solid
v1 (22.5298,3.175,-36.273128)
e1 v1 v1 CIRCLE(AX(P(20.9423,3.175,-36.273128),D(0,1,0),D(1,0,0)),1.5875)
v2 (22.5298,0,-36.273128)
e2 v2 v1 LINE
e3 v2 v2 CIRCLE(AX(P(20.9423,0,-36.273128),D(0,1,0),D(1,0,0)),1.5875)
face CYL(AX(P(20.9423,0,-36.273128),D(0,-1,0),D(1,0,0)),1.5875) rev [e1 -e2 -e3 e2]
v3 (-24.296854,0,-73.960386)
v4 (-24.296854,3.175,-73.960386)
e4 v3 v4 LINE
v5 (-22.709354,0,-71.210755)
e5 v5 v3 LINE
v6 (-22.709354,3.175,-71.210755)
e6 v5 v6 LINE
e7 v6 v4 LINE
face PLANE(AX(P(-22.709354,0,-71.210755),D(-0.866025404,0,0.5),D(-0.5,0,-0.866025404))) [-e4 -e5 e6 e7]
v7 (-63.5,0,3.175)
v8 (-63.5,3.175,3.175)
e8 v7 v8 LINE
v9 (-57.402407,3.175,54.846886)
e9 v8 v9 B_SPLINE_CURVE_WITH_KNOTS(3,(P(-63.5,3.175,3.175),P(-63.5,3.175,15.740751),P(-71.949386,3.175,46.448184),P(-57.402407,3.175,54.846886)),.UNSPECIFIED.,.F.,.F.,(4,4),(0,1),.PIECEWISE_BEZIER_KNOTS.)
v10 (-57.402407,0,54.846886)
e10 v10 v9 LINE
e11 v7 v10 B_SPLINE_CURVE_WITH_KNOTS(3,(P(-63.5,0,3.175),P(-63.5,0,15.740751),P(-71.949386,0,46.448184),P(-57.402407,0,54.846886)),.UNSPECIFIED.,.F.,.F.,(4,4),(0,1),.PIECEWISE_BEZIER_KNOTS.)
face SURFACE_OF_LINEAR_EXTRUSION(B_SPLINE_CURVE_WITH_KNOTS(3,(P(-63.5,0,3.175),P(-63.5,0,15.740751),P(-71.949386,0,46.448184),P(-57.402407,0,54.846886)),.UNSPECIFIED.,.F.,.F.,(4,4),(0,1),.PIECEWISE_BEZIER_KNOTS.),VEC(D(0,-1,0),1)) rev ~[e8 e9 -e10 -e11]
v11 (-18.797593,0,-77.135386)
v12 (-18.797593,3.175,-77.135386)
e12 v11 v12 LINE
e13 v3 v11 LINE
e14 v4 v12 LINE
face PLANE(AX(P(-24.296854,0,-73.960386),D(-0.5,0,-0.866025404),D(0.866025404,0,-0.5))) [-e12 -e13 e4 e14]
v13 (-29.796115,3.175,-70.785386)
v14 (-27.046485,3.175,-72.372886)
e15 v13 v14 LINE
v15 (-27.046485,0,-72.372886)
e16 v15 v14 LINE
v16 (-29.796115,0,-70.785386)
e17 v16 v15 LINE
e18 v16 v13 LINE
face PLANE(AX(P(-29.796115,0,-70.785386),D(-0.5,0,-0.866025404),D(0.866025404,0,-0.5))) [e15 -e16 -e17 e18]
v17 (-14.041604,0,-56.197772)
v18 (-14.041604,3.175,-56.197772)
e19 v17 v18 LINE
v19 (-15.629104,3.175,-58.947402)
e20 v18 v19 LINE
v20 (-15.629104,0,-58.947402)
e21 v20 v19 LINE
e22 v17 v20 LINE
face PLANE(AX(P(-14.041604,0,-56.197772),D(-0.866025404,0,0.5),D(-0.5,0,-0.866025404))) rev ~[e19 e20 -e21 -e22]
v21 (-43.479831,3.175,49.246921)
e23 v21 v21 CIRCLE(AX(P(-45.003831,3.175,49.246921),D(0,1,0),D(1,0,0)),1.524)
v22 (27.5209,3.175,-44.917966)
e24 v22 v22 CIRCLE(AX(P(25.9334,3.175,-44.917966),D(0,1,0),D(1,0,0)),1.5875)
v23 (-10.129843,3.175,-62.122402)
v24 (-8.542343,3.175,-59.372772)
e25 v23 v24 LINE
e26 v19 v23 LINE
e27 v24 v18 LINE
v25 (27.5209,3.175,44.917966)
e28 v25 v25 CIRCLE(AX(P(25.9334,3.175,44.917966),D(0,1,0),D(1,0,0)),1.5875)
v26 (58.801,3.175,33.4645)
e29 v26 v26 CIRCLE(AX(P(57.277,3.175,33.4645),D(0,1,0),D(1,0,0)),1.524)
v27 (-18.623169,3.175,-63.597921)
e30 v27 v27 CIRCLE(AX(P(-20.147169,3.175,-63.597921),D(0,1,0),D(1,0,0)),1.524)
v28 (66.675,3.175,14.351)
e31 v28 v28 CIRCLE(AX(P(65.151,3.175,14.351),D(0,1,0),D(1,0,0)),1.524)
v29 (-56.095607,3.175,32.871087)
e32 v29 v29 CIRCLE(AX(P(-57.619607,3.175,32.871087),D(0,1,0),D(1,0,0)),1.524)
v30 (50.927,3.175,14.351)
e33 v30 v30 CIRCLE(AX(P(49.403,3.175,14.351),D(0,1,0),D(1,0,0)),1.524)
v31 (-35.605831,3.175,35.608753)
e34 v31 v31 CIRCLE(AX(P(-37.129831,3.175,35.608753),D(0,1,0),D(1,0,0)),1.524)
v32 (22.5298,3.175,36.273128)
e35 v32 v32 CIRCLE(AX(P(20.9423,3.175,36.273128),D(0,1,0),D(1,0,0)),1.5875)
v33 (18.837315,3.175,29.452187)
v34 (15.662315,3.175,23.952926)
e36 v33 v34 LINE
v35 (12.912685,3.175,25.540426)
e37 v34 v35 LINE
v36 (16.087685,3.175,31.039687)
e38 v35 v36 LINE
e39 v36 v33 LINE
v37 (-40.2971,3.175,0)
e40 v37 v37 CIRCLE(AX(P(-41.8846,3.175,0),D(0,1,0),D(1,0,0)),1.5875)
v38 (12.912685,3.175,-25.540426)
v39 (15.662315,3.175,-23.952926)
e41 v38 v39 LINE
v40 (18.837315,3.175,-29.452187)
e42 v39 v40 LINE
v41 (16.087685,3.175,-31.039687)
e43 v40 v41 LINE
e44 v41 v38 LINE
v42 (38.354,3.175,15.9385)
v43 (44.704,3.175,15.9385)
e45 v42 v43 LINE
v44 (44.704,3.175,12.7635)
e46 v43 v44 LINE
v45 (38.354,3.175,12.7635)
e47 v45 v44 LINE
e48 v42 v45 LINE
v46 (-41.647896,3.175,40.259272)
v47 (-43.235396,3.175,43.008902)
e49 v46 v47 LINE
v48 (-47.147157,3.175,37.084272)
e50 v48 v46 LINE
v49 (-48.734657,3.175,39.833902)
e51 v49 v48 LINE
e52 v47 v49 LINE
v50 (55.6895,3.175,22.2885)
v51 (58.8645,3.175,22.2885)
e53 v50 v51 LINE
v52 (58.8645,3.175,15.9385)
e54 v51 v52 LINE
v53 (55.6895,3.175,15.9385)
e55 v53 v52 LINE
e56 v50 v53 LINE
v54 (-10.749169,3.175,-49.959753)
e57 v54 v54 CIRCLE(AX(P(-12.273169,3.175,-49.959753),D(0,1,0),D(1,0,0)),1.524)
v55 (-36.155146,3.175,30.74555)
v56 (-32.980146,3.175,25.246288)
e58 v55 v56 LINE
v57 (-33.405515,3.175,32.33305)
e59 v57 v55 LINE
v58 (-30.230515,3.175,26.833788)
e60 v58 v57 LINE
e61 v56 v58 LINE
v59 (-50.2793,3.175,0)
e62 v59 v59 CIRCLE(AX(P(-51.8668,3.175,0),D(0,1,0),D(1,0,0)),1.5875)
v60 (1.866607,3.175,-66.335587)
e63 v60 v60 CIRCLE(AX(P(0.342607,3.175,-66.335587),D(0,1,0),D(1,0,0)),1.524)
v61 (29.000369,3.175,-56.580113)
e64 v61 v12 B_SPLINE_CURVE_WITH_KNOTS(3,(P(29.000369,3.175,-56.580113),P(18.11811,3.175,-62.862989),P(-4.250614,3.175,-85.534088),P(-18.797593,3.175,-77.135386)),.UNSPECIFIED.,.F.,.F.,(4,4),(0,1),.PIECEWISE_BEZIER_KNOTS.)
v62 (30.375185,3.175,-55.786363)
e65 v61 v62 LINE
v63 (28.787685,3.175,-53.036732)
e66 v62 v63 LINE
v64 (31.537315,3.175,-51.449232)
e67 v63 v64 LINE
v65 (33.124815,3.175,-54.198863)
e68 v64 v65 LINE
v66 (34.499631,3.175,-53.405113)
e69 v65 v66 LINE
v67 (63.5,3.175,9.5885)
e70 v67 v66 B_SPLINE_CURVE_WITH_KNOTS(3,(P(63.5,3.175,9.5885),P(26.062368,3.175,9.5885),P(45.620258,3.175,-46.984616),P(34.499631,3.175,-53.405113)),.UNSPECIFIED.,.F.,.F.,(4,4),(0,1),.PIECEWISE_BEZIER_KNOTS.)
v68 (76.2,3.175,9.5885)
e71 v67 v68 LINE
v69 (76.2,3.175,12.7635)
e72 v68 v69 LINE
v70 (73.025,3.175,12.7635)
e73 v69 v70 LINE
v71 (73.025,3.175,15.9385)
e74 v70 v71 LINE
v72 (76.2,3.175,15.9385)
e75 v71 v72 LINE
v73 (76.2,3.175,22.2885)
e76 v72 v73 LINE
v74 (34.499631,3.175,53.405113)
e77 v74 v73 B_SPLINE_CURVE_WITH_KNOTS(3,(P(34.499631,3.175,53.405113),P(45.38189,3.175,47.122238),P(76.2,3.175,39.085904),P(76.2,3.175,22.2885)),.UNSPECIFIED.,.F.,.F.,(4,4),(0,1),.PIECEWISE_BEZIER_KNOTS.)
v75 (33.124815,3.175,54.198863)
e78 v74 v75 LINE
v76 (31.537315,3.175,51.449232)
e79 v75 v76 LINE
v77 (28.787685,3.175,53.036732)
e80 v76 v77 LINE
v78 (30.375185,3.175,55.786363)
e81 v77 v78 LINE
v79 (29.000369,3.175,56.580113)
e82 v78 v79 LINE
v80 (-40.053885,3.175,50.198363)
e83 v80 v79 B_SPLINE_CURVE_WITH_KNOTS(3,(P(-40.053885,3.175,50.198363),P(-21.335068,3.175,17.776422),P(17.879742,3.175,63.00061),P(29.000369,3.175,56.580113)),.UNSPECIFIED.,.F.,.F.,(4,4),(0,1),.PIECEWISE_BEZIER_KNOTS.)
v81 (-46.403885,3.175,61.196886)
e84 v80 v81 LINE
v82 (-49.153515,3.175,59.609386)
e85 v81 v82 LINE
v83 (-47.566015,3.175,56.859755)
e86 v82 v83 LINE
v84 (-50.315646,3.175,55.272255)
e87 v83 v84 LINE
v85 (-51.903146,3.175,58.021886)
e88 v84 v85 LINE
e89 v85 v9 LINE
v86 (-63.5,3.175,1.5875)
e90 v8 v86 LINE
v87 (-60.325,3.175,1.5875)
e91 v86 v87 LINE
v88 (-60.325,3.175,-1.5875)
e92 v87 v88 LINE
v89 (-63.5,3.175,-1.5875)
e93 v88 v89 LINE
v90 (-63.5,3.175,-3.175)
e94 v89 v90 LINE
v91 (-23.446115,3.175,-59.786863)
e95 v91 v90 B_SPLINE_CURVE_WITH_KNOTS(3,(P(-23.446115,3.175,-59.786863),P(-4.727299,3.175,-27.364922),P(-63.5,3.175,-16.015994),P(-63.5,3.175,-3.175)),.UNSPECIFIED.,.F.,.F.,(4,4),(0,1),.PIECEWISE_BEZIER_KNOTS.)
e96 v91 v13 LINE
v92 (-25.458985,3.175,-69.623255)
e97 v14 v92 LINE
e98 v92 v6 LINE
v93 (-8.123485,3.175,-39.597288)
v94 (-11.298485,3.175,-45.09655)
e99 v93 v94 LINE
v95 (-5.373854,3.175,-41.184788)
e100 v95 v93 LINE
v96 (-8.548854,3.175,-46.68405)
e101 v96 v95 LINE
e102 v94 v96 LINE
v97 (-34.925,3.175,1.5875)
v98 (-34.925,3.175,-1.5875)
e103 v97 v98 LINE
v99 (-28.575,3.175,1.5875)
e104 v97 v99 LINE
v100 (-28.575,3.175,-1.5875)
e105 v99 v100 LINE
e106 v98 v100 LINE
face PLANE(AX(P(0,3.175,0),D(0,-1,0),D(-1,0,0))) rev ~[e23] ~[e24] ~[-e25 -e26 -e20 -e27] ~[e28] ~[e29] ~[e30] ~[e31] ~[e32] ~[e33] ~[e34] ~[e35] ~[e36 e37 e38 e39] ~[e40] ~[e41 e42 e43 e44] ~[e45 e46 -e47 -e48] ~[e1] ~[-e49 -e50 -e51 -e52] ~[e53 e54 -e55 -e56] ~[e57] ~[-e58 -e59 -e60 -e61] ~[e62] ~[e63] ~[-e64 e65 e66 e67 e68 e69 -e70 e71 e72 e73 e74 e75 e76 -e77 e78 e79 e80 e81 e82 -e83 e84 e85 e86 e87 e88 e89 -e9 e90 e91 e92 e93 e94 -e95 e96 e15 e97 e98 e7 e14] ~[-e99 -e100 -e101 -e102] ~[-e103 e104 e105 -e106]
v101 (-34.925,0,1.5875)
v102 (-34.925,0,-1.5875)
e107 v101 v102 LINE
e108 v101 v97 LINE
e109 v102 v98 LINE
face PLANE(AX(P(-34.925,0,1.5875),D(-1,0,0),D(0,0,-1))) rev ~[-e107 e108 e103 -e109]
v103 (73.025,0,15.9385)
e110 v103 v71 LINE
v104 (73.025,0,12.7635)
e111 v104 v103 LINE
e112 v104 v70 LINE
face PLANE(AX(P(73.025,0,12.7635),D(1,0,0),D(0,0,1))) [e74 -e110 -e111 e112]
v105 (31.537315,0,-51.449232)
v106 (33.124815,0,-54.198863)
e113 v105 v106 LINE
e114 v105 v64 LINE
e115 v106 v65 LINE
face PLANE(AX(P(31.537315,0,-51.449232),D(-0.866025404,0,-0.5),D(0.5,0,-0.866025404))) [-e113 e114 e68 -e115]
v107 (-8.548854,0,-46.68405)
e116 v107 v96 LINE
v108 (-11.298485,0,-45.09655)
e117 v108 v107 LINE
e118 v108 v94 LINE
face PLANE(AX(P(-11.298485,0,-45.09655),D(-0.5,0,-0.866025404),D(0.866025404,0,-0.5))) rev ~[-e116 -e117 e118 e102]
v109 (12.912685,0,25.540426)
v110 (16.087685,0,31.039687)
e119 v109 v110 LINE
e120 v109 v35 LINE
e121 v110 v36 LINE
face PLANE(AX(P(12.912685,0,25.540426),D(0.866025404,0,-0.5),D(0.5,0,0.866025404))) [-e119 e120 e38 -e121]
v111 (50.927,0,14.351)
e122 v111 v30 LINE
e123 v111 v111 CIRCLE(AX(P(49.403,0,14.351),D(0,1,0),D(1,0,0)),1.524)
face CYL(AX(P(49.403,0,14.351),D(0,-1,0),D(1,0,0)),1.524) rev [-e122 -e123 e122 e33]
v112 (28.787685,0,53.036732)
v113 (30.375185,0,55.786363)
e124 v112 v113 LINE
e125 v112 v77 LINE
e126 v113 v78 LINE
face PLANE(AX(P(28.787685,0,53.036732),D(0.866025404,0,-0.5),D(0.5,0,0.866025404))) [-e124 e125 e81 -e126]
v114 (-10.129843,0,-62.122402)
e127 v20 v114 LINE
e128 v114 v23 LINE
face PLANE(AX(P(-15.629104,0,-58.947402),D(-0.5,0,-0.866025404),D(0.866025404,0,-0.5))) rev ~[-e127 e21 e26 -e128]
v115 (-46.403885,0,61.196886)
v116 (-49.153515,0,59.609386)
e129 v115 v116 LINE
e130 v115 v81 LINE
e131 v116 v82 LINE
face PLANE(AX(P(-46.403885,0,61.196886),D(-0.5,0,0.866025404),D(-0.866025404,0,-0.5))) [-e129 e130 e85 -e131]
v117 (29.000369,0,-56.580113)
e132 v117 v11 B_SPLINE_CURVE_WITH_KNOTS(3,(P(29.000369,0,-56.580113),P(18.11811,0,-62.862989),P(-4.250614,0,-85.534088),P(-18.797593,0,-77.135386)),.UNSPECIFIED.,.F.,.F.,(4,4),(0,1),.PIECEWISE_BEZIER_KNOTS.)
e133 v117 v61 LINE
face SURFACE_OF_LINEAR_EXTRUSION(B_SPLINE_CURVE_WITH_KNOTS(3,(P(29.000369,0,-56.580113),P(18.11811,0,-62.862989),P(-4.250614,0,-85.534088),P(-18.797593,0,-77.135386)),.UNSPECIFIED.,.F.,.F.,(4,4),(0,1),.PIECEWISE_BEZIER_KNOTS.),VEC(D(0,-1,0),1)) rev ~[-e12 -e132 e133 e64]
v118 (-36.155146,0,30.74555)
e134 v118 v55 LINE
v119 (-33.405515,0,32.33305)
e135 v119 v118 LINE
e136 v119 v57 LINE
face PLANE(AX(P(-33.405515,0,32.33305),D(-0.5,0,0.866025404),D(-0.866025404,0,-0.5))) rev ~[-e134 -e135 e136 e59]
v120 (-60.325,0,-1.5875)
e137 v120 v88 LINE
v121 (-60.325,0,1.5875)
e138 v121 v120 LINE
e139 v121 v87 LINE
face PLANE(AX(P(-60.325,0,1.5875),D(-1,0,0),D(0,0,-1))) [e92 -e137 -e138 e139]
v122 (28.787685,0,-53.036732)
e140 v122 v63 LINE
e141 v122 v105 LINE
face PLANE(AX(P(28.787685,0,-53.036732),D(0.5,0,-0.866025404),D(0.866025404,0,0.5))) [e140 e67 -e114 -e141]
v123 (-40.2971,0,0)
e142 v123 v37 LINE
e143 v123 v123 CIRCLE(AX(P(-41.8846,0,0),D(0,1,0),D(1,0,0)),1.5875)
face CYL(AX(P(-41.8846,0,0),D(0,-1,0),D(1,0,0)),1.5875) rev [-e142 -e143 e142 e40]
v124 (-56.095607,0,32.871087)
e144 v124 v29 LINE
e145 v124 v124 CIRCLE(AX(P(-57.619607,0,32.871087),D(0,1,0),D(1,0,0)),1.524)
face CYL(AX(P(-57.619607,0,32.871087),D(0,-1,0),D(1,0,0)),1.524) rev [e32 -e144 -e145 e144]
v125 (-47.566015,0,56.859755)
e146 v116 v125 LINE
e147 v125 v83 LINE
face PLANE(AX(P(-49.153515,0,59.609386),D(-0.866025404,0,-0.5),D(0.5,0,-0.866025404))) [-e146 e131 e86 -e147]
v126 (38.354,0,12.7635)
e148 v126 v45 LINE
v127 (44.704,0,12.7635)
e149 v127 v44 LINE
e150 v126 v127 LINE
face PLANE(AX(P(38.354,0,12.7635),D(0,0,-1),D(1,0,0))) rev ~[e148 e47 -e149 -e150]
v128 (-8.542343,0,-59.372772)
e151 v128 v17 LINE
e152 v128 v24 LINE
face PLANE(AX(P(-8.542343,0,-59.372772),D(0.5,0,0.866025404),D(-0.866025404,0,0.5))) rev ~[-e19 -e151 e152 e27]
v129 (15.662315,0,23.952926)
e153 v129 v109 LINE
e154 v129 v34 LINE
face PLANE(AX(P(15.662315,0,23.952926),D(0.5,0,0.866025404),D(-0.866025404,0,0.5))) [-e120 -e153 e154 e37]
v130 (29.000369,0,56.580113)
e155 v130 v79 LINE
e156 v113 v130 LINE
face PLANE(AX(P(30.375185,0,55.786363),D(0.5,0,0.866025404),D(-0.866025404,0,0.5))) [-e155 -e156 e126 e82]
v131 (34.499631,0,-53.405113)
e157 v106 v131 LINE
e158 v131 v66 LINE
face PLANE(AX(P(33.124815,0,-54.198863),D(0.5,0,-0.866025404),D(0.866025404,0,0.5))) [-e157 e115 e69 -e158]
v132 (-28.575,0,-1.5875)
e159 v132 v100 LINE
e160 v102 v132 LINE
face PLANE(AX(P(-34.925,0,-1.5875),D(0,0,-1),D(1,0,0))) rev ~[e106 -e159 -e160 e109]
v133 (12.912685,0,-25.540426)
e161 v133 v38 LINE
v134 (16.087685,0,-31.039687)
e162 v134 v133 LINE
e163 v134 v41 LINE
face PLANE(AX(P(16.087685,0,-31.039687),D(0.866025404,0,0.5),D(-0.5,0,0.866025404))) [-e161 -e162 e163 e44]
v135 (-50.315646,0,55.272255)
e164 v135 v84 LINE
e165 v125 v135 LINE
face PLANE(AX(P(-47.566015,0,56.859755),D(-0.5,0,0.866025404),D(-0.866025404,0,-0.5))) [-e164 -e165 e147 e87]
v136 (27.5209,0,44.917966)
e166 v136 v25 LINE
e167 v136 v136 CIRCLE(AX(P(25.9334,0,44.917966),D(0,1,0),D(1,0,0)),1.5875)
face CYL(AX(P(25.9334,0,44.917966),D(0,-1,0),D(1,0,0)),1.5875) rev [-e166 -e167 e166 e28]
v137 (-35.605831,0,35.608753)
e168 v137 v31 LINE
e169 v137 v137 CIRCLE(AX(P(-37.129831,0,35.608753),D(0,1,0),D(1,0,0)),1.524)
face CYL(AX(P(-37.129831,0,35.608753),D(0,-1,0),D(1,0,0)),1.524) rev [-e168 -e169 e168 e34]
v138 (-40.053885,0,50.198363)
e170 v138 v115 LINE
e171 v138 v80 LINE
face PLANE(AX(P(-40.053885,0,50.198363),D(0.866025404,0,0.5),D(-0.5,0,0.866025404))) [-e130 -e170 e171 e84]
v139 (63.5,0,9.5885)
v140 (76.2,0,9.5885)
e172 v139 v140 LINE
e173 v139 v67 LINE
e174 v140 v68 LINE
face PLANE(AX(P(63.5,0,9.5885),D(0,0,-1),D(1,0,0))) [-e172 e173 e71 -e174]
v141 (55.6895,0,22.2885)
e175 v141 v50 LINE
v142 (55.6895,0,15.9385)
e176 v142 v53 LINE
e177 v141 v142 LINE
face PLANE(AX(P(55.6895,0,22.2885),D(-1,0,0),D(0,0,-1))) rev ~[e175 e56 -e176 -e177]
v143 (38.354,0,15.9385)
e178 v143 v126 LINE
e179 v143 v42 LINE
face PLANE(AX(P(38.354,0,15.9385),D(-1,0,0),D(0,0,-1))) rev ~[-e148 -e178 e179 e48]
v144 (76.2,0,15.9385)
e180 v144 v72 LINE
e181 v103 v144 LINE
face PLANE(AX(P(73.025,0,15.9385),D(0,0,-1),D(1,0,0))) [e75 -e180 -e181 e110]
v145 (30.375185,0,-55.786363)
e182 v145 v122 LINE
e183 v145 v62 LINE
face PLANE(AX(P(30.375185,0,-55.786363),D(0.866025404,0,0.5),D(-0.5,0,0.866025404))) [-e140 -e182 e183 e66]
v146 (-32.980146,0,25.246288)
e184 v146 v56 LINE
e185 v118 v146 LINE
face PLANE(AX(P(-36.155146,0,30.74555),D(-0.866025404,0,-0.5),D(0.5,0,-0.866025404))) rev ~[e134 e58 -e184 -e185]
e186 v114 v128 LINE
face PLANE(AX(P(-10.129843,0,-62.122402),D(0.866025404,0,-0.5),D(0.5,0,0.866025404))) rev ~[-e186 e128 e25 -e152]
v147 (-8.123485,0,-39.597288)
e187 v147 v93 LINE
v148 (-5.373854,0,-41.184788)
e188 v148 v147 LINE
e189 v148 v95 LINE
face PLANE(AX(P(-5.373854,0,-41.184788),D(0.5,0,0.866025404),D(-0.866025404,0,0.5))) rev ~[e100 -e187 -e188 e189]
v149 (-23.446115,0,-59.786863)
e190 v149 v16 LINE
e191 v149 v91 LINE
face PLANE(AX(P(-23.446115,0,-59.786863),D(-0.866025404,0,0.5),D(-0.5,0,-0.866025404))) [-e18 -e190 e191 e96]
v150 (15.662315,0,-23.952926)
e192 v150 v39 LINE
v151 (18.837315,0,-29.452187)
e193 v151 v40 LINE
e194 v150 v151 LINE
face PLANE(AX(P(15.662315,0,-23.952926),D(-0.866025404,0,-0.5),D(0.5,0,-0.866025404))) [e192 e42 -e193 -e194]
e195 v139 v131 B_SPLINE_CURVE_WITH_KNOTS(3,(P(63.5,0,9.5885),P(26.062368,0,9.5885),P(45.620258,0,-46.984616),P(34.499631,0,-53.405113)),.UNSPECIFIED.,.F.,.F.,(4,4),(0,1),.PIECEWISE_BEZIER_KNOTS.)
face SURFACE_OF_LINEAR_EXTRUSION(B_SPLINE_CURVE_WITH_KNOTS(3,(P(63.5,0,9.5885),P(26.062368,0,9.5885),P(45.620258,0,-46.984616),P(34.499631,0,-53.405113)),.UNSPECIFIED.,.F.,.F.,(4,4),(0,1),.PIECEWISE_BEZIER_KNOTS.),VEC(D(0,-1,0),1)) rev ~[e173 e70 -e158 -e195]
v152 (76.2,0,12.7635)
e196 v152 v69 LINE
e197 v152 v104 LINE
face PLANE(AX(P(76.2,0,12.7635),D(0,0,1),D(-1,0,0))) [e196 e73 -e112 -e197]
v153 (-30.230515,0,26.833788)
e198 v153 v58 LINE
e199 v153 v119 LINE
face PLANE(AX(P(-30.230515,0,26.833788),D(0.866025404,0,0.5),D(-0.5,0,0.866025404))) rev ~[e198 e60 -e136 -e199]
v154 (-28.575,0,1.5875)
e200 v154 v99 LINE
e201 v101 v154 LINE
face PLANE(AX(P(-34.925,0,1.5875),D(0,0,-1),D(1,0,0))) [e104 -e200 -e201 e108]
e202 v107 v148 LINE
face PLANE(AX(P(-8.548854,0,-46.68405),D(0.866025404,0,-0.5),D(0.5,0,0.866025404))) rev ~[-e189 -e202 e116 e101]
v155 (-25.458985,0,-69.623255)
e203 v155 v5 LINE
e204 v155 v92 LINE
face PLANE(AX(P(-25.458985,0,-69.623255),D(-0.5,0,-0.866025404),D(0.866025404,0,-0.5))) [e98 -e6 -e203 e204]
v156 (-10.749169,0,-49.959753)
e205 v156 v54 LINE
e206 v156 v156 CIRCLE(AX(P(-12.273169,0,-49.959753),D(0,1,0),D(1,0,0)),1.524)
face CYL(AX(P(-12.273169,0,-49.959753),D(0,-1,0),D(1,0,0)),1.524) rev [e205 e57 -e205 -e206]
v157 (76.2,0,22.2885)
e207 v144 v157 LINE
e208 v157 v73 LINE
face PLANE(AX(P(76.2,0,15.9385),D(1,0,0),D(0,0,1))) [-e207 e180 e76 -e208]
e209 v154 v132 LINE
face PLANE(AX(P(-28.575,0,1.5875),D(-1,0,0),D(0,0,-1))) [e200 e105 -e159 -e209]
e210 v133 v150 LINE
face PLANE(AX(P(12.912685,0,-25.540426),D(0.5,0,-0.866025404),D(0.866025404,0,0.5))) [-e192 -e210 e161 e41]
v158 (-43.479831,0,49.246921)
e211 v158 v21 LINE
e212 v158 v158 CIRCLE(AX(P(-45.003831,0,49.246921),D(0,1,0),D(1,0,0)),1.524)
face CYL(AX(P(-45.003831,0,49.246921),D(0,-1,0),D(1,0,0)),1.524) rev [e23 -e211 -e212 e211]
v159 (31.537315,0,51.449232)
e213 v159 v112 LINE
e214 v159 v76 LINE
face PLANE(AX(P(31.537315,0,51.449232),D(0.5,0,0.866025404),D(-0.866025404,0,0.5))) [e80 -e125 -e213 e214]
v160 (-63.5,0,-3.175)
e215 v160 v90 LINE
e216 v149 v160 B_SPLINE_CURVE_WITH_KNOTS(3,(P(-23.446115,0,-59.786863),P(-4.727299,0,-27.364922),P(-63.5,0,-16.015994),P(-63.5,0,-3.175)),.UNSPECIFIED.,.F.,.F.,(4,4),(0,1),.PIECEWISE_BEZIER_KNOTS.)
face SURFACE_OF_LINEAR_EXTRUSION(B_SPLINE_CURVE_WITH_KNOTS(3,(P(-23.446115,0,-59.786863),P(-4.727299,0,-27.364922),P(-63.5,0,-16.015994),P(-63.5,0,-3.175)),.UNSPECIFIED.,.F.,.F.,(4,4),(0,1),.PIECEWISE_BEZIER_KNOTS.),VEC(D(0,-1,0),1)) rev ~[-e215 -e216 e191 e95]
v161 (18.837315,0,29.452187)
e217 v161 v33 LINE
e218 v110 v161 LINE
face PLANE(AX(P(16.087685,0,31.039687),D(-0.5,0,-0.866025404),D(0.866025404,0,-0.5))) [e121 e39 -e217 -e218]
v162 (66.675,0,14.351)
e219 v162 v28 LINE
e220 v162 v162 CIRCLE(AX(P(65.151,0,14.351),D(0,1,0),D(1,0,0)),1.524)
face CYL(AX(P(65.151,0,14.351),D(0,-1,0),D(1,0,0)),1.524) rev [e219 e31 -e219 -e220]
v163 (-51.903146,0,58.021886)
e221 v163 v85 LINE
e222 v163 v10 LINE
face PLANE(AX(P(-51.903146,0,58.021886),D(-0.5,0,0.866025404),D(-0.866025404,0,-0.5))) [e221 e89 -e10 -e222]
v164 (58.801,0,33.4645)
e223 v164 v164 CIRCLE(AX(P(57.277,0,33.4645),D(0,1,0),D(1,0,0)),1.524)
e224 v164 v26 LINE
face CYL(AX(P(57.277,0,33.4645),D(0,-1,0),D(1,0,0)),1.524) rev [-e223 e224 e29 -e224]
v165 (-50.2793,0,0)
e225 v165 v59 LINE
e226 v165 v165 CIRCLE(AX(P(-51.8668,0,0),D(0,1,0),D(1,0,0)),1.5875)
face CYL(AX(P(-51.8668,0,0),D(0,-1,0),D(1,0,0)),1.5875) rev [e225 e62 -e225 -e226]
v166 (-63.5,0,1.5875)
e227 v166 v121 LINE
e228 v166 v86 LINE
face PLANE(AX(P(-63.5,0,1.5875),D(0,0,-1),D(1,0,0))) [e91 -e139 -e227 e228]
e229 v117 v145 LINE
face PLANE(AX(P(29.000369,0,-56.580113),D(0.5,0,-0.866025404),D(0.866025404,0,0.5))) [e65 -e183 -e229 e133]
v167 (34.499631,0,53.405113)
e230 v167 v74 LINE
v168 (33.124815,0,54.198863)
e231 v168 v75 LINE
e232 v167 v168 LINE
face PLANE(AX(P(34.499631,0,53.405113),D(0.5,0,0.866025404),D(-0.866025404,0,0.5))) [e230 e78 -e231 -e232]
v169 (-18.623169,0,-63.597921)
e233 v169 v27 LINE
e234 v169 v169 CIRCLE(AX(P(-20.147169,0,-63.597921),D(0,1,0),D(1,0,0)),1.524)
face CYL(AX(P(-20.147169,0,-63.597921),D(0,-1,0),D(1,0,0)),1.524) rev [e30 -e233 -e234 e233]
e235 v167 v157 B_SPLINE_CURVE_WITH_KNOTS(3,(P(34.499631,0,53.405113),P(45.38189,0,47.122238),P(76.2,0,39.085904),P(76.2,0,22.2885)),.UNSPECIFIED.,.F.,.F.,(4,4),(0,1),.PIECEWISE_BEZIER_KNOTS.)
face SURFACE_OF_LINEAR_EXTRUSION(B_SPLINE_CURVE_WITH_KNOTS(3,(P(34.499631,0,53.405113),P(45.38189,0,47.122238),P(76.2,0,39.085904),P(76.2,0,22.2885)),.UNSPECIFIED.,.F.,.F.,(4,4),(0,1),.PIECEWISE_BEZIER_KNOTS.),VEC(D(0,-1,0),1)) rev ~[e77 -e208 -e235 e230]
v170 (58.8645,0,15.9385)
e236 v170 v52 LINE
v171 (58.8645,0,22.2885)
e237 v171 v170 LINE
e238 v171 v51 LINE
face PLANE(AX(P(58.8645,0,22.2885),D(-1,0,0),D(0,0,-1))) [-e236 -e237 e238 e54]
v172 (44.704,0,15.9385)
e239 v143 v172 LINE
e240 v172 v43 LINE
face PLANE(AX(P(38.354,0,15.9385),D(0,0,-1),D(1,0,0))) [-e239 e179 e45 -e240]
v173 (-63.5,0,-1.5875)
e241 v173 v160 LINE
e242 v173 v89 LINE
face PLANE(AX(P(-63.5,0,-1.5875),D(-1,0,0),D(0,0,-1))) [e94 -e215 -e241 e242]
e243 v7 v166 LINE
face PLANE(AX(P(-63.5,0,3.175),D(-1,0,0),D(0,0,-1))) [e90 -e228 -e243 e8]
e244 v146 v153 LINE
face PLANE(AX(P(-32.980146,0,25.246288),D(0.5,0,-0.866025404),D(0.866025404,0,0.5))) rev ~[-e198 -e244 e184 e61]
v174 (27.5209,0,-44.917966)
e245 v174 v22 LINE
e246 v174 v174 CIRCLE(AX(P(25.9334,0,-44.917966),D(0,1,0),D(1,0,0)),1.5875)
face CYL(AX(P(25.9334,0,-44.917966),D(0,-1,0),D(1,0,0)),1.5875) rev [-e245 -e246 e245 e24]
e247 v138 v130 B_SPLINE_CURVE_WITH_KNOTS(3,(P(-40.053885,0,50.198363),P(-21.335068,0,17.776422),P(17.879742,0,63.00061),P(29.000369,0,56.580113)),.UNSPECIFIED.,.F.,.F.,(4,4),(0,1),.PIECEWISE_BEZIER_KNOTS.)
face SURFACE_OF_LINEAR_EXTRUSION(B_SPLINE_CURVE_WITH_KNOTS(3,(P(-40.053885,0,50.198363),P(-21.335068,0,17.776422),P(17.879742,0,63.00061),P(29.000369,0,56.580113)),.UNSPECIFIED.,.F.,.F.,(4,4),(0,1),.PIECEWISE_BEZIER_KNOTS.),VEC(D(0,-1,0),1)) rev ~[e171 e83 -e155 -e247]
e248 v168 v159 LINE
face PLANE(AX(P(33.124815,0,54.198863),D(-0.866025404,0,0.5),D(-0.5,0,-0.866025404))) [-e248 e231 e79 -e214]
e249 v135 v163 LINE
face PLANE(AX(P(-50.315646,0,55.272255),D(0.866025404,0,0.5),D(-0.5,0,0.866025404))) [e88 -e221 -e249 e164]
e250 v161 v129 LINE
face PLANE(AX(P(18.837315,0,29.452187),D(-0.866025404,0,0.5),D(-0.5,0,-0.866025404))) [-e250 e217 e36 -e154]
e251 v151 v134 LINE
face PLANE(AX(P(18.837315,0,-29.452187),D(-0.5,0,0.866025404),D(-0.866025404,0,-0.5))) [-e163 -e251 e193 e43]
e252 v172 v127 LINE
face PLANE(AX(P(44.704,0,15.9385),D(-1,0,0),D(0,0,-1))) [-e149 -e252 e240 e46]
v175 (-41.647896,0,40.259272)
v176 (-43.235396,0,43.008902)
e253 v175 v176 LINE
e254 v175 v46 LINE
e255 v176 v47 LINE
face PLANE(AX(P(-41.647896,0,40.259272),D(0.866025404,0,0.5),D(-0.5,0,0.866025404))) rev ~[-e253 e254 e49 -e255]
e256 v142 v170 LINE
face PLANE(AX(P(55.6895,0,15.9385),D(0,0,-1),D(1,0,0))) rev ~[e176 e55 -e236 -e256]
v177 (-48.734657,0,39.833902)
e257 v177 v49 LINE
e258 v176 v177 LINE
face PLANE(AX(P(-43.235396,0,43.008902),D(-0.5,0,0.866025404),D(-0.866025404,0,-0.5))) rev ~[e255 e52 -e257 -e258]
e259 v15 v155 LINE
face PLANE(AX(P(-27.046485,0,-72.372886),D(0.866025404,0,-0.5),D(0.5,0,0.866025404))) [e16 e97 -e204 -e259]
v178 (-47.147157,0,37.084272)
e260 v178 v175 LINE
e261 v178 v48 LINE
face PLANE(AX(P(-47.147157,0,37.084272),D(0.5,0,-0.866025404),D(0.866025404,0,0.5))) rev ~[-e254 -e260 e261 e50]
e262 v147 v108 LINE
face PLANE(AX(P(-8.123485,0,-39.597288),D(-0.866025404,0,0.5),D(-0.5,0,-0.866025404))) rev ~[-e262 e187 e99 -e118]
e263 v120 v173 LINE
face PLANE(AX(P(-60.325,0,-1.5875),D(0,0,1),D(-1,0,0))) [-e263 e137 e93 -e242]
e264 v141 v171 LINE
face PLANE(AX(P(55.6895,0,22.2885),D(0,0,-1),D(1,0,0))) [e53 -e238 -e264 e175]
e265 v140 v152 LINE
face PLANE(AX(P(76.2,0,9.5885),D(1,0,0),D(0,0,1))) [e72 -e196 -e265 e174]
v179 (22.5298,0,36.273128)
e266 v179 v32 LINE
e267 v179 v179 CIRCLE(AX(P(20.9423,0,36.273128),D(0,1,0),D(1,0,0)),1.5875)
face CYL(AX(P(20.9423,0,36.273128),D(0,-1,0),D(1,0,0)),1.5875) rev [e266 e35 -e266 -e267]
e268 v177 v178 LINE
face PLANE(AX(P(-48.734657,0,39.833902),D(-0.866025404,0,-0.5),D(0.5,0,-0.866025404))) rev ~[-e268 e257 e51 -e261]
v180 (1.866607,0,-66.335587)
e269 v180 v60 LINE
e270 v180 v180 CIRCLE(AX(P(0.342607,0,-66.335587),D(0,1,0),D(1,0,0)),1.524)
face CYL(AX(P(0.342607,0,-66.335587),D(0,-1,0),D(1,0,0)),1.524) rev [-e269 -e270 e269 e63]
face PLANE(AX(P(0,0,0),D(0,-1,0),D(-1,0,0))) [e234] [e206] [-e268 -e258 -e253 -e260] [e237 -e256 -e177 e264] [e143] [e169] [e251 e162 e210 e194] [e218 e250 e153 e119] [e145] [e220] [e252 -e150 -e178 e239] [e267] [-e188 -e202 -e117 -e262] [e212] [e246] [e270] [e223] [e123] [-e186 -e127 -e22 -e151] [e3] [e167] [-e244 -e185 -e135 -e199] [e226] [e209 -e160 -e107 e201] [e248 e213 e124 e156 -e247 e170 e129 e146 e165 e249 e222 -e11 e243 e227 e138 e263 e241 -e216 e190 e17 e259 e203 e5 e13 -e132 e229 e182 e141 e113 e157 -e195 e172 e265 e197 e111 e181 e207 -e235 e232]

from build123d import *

# Parameters (mm, degrees)
SKETCH1_R           = 1.524
SKETCH1_R_2         = 1.587500001
SKETCH1_R_3         = 1.5875
SKETCH1_R_4         = 1.523999993
SKETCH1_R_5         = 1.523999992
SKETCH1_R_6         = 1.587499996
SKETCH1_R_7         = 1.523999994
SKETCH1_R_8         = 1.587499994
SKETCH1_W           = 6.35
SKETCH1_H           = 3.175
SKETCH1_W_2         = 3.175
SKETCH1_H_2         = 6.35
BOSS_EXTRUDE1_DEPTH = 3.175


with BuildPart() as part:
    # Sketch1 → Boss-Extrude1 (new body)
    with BuildSketch(Plane(origin=(0, 0, 0), x_dir=(1, 0, 0), z_dir=(0, 1, 0))):
        with BuildLine():
            Line((-46.403884523, -61.196885763), (-49.15351518, -59.609385763))
            Line((-49.15351518, -59.609385763), (-47.56601518, -56.859755106))
            Line((-47.56601518, -56.859755106), (-50.315645837, -55.272255106))
            Line((-50.315645837, -55.272255106), (-51.903145837, -58.021885763))
            Line((-51.903145837, -58.021885763), (-57.402407151, -54.846885763))
            add(Edge.make_bspline(
                [(-63.499999964, -3.175000051), (-63.499999964, -15.74075082), (-71.94938611, -46.448183545), (-57.402407151, -54.846885763)],
                knots=[0, 0, 0, 0, 1, 1, 1, 1], degree=3))
            Line((-63.499999964, -3.175000051), (-63.499999964, -1.587500051))
            Line((-63.499999964, -1.587500051), (-60.324999964, -1.587500051))
            Line((-60.324999964, -1.587500051), (-60.324999964, 1.587499949))
            Line((-60.324999964, 1.587499949), (-63.499999964, 1.587499949))
            Line((-63.499999964, 1.587499949), (-63.499999964, 3.174999949))
            add(Edge.make_bspline(
                [(-23.44611538, 59.78686309), (-4.72729916, 27.364922338), (-63.499999964, 16.015994216), (-63.499999964, 3.174999949)],
                knots=[0, 0, 0, 0, 1, 1, 1, 1], degree=3))
            Line((-23.44611538, 59.78686309), (-29.79611538, 70.785385718))
            Line((-29.79611538, 70.785385718), (-27.046484723, 72.372885718))
            Line((-27.046484723, 72.372885718), (-25.458984723, 69.623255061))
            Line((-25.458984723, 69.623255061), (-22.709354066, 71.210755061))
            Line((-22.709354066, 71.210755061), (-24.296854066, 73.960385718))
            Line((-24.296854066, 73.960385718), (-18.797592752, 77.135385718))
            add(Edge.make_bspline(
                [(29.000369343, 56.58011314), (18.118109959, 62.862988525), (-4.250613793, 85.534087936), (-18.797592752, 77.135385718)],
                knots=[0, 0, 0, 0, 1, 1, 1, 1], degree=3))
            Line((29.000369343, 56.58011314), (30.375184671, 55.786363141))
            Line((30.375184671, 55.786363141), (28.787684671, 53.036732484))
            Line((28.787684671, 53.036732484), (31.537315328, 51.449232484))
            Line((31.537315328, 51.449232484), (33.124815328, 54.198863141))
            Line((33.124815328, 54.198863141), (34.499630657, 53.405113141))
            add(Edge.make_bspline(
                [(63.5, -9.5885), (26.062367559, -9.5885), (45.620257902, 46.984616007), (34.499630657, 53.405113141)],
                knots=[0, 0, 0, 0, 1, 1, 1, 1], degree=3))
            Line((63.5, -9.5885), (76.2, -9.5885))
            Line((76.2, -9.5885), (76.2, -12.7635))
            Line((76.2, -12.7635), (73.025, -12.7635))
            Line((73.025, -12.7635), (73.025, -15.9385))
            Line((73.025, -15.9385), (76.2, -15.9385))
            Line((76.2, -15.9385), (76.2, -22.2885))
            add(Edge.make_bspline(
                [(34.499630719, -53.405113134), (45.381890103, -47.122237749), (76.2, -39.085904436), (76.2, -22.2885)],
                knots=[0, 0, 0, 0, 1, 1, 1, 1], degree=3))
            Line((34.499630719, -53.405113134), (33.12481539, -54.198863134))
            Line((33.12481539, -54.198863134), (31.53731539, -51.449232477))
            Line((31.53731539, -51.449232477), (28.787684733, -53.036732477))
            Line((28.787684733, -53.036732477), (30.375184734, -55.786363134))
            Line((30.375184734, -55.786363134), (29.000369405, -56.580113134))
            add(Edge.make_bspline(
                [(-40.053884523, -50.198363135), (-21.335068302, -17.776422383), (17.87974216, -63.000610268), (29.000369405, -56.580113134)],
                knots=[0, 0, 0, 0, 1, 1, 1, 1], degree=3))
            Line((-40.053884523, -50.198363135), (-46.403884523, -61.196885763))
        make_face()
        with Locations((65.151, -14.351)):
            Circle(SKETCH1_R, mode=Mode.SUBTRACT)
        with Locations((49.403, -14.351)):
            Circle(SKETCH1_R, mode=Mode.SUBTRACT)
        with Locations((25.933399999, 44.917966413)):
            Circle(SKETCH1_R_2, mode=Mode.SUBTRACT)
        with Locations((20.9423, 36.273127627)):
            Circle(SKETCH1_R_3, mode=Mode.SUBTRACT)
        with Locations((-45.003830508, -49.246921076)):
            Circle(SKETCH1_R_4, mode=Mode.SUBTRACT)
        with Locations((-37.129830508, -35.608753018)):
            Circle(SKETCH1_R_5, mode=Mode.SUBTRACT)
        with Locations((25.933400062, -44.917966407)):
            Circle(SKETCH1_R_6, mode=Mode.SUBTRACT)
        with Locations((20.942300062, -36.273127622)):
            Circle(SKETCH1_R_3, mode=Mode.SUBTRACT)
        with Locations((-20.147169395, 63.597921031)):
            Circle(SKETCH1_R_7, mode=Mode.SUBTRACT)
        with Locations((-12.273169395, 49.959752973)):
            Circle(SKETCH1_R_4, mode=Mode.SUBTRACT)
        with Locations((-51.866799964, -5.1e-08)):
            Circle(SKETCH1_R_8, mode=Mode.SUBTRACT)
        with Locations((-41.884599964, -5.1e-08)):
            Circle(SKETCH1_R_3, mode=Mode.SUBTRACT)
        with Locations((57.277, -33.4645)):
            Circle(SKETCH1_R, mode=Mode.SUBTRACT)
        with Locations((-57.619607125, -32.871087053)):
            Circle(SKETCH1_R, mode=Mode.SUBTRACT)
        with Locations((0.342607125, 66.335587053)):
            Circle(SKETCH1_R, mode=Mode.SUBTRACT)
        Polygon((15.662315328, 23.952925913), (18.837315328, 29.452187227), (16.087684671, 31.039687227), (12.912684671, 25.540425913), align=None, mode=Mode.SUBTRACT)
        Polygon((-41.647895898, -40.259271724), (-43.235395898, -43.008902381), (-48.734657212, -39.833902381), (-47.147157212, -37.084271724), align=None, mode=Mode.SUBTRACT)
        with Locations((41.529, -14.351)):
            Rectangle(SKETCH1_W, SKETCH1_H, mode=Mode.SUBTRACT)
        Polygon((12.912684733, -25.540425908), (16.087684733, -31.039687222), (18.83731539, -29.452187222), (15.66231539, -23.952925908), align=None, mode=Mode.SUBTRACT)
        Polygon((-30.23051518, -26.833788331), (-33.40551518, -32.333049645), (-36.155145837, -30.745549645), (-32.980145837, -25.246288331), align=None, mode=Mode.SUBTRACT)
        with Locations((-31.749999964, -5e-08)):
            Rectangle(SKETCH1_W, SKETCH1_H, mode=Mode.SUBTRACT)
        Polygon((-8.123484723, 39.597288286), (-11.298484723, 45.0965496), (-8.548854066, 46.6840496), (-5.373854066, 41.184788286), align=None, mode=Mode.SUBTRACT)
        with Locations((57.277, -19.1135)):
            Rectangle(SKETCH1_W_2, SKETCH1_H_2, mode=Mode.SUBTRACT)
        Polygon((-14.041604102, 56.197771724), (-15.629104102, 58.947402381), (-10.129842788, 62.122402381), (-8.542342788, 59.372771724), align=None, mode=Mode.SUBTRACT)
    extrude(amount=BOSS_EXTRUDE1_DEPTH)


solid = part.part
